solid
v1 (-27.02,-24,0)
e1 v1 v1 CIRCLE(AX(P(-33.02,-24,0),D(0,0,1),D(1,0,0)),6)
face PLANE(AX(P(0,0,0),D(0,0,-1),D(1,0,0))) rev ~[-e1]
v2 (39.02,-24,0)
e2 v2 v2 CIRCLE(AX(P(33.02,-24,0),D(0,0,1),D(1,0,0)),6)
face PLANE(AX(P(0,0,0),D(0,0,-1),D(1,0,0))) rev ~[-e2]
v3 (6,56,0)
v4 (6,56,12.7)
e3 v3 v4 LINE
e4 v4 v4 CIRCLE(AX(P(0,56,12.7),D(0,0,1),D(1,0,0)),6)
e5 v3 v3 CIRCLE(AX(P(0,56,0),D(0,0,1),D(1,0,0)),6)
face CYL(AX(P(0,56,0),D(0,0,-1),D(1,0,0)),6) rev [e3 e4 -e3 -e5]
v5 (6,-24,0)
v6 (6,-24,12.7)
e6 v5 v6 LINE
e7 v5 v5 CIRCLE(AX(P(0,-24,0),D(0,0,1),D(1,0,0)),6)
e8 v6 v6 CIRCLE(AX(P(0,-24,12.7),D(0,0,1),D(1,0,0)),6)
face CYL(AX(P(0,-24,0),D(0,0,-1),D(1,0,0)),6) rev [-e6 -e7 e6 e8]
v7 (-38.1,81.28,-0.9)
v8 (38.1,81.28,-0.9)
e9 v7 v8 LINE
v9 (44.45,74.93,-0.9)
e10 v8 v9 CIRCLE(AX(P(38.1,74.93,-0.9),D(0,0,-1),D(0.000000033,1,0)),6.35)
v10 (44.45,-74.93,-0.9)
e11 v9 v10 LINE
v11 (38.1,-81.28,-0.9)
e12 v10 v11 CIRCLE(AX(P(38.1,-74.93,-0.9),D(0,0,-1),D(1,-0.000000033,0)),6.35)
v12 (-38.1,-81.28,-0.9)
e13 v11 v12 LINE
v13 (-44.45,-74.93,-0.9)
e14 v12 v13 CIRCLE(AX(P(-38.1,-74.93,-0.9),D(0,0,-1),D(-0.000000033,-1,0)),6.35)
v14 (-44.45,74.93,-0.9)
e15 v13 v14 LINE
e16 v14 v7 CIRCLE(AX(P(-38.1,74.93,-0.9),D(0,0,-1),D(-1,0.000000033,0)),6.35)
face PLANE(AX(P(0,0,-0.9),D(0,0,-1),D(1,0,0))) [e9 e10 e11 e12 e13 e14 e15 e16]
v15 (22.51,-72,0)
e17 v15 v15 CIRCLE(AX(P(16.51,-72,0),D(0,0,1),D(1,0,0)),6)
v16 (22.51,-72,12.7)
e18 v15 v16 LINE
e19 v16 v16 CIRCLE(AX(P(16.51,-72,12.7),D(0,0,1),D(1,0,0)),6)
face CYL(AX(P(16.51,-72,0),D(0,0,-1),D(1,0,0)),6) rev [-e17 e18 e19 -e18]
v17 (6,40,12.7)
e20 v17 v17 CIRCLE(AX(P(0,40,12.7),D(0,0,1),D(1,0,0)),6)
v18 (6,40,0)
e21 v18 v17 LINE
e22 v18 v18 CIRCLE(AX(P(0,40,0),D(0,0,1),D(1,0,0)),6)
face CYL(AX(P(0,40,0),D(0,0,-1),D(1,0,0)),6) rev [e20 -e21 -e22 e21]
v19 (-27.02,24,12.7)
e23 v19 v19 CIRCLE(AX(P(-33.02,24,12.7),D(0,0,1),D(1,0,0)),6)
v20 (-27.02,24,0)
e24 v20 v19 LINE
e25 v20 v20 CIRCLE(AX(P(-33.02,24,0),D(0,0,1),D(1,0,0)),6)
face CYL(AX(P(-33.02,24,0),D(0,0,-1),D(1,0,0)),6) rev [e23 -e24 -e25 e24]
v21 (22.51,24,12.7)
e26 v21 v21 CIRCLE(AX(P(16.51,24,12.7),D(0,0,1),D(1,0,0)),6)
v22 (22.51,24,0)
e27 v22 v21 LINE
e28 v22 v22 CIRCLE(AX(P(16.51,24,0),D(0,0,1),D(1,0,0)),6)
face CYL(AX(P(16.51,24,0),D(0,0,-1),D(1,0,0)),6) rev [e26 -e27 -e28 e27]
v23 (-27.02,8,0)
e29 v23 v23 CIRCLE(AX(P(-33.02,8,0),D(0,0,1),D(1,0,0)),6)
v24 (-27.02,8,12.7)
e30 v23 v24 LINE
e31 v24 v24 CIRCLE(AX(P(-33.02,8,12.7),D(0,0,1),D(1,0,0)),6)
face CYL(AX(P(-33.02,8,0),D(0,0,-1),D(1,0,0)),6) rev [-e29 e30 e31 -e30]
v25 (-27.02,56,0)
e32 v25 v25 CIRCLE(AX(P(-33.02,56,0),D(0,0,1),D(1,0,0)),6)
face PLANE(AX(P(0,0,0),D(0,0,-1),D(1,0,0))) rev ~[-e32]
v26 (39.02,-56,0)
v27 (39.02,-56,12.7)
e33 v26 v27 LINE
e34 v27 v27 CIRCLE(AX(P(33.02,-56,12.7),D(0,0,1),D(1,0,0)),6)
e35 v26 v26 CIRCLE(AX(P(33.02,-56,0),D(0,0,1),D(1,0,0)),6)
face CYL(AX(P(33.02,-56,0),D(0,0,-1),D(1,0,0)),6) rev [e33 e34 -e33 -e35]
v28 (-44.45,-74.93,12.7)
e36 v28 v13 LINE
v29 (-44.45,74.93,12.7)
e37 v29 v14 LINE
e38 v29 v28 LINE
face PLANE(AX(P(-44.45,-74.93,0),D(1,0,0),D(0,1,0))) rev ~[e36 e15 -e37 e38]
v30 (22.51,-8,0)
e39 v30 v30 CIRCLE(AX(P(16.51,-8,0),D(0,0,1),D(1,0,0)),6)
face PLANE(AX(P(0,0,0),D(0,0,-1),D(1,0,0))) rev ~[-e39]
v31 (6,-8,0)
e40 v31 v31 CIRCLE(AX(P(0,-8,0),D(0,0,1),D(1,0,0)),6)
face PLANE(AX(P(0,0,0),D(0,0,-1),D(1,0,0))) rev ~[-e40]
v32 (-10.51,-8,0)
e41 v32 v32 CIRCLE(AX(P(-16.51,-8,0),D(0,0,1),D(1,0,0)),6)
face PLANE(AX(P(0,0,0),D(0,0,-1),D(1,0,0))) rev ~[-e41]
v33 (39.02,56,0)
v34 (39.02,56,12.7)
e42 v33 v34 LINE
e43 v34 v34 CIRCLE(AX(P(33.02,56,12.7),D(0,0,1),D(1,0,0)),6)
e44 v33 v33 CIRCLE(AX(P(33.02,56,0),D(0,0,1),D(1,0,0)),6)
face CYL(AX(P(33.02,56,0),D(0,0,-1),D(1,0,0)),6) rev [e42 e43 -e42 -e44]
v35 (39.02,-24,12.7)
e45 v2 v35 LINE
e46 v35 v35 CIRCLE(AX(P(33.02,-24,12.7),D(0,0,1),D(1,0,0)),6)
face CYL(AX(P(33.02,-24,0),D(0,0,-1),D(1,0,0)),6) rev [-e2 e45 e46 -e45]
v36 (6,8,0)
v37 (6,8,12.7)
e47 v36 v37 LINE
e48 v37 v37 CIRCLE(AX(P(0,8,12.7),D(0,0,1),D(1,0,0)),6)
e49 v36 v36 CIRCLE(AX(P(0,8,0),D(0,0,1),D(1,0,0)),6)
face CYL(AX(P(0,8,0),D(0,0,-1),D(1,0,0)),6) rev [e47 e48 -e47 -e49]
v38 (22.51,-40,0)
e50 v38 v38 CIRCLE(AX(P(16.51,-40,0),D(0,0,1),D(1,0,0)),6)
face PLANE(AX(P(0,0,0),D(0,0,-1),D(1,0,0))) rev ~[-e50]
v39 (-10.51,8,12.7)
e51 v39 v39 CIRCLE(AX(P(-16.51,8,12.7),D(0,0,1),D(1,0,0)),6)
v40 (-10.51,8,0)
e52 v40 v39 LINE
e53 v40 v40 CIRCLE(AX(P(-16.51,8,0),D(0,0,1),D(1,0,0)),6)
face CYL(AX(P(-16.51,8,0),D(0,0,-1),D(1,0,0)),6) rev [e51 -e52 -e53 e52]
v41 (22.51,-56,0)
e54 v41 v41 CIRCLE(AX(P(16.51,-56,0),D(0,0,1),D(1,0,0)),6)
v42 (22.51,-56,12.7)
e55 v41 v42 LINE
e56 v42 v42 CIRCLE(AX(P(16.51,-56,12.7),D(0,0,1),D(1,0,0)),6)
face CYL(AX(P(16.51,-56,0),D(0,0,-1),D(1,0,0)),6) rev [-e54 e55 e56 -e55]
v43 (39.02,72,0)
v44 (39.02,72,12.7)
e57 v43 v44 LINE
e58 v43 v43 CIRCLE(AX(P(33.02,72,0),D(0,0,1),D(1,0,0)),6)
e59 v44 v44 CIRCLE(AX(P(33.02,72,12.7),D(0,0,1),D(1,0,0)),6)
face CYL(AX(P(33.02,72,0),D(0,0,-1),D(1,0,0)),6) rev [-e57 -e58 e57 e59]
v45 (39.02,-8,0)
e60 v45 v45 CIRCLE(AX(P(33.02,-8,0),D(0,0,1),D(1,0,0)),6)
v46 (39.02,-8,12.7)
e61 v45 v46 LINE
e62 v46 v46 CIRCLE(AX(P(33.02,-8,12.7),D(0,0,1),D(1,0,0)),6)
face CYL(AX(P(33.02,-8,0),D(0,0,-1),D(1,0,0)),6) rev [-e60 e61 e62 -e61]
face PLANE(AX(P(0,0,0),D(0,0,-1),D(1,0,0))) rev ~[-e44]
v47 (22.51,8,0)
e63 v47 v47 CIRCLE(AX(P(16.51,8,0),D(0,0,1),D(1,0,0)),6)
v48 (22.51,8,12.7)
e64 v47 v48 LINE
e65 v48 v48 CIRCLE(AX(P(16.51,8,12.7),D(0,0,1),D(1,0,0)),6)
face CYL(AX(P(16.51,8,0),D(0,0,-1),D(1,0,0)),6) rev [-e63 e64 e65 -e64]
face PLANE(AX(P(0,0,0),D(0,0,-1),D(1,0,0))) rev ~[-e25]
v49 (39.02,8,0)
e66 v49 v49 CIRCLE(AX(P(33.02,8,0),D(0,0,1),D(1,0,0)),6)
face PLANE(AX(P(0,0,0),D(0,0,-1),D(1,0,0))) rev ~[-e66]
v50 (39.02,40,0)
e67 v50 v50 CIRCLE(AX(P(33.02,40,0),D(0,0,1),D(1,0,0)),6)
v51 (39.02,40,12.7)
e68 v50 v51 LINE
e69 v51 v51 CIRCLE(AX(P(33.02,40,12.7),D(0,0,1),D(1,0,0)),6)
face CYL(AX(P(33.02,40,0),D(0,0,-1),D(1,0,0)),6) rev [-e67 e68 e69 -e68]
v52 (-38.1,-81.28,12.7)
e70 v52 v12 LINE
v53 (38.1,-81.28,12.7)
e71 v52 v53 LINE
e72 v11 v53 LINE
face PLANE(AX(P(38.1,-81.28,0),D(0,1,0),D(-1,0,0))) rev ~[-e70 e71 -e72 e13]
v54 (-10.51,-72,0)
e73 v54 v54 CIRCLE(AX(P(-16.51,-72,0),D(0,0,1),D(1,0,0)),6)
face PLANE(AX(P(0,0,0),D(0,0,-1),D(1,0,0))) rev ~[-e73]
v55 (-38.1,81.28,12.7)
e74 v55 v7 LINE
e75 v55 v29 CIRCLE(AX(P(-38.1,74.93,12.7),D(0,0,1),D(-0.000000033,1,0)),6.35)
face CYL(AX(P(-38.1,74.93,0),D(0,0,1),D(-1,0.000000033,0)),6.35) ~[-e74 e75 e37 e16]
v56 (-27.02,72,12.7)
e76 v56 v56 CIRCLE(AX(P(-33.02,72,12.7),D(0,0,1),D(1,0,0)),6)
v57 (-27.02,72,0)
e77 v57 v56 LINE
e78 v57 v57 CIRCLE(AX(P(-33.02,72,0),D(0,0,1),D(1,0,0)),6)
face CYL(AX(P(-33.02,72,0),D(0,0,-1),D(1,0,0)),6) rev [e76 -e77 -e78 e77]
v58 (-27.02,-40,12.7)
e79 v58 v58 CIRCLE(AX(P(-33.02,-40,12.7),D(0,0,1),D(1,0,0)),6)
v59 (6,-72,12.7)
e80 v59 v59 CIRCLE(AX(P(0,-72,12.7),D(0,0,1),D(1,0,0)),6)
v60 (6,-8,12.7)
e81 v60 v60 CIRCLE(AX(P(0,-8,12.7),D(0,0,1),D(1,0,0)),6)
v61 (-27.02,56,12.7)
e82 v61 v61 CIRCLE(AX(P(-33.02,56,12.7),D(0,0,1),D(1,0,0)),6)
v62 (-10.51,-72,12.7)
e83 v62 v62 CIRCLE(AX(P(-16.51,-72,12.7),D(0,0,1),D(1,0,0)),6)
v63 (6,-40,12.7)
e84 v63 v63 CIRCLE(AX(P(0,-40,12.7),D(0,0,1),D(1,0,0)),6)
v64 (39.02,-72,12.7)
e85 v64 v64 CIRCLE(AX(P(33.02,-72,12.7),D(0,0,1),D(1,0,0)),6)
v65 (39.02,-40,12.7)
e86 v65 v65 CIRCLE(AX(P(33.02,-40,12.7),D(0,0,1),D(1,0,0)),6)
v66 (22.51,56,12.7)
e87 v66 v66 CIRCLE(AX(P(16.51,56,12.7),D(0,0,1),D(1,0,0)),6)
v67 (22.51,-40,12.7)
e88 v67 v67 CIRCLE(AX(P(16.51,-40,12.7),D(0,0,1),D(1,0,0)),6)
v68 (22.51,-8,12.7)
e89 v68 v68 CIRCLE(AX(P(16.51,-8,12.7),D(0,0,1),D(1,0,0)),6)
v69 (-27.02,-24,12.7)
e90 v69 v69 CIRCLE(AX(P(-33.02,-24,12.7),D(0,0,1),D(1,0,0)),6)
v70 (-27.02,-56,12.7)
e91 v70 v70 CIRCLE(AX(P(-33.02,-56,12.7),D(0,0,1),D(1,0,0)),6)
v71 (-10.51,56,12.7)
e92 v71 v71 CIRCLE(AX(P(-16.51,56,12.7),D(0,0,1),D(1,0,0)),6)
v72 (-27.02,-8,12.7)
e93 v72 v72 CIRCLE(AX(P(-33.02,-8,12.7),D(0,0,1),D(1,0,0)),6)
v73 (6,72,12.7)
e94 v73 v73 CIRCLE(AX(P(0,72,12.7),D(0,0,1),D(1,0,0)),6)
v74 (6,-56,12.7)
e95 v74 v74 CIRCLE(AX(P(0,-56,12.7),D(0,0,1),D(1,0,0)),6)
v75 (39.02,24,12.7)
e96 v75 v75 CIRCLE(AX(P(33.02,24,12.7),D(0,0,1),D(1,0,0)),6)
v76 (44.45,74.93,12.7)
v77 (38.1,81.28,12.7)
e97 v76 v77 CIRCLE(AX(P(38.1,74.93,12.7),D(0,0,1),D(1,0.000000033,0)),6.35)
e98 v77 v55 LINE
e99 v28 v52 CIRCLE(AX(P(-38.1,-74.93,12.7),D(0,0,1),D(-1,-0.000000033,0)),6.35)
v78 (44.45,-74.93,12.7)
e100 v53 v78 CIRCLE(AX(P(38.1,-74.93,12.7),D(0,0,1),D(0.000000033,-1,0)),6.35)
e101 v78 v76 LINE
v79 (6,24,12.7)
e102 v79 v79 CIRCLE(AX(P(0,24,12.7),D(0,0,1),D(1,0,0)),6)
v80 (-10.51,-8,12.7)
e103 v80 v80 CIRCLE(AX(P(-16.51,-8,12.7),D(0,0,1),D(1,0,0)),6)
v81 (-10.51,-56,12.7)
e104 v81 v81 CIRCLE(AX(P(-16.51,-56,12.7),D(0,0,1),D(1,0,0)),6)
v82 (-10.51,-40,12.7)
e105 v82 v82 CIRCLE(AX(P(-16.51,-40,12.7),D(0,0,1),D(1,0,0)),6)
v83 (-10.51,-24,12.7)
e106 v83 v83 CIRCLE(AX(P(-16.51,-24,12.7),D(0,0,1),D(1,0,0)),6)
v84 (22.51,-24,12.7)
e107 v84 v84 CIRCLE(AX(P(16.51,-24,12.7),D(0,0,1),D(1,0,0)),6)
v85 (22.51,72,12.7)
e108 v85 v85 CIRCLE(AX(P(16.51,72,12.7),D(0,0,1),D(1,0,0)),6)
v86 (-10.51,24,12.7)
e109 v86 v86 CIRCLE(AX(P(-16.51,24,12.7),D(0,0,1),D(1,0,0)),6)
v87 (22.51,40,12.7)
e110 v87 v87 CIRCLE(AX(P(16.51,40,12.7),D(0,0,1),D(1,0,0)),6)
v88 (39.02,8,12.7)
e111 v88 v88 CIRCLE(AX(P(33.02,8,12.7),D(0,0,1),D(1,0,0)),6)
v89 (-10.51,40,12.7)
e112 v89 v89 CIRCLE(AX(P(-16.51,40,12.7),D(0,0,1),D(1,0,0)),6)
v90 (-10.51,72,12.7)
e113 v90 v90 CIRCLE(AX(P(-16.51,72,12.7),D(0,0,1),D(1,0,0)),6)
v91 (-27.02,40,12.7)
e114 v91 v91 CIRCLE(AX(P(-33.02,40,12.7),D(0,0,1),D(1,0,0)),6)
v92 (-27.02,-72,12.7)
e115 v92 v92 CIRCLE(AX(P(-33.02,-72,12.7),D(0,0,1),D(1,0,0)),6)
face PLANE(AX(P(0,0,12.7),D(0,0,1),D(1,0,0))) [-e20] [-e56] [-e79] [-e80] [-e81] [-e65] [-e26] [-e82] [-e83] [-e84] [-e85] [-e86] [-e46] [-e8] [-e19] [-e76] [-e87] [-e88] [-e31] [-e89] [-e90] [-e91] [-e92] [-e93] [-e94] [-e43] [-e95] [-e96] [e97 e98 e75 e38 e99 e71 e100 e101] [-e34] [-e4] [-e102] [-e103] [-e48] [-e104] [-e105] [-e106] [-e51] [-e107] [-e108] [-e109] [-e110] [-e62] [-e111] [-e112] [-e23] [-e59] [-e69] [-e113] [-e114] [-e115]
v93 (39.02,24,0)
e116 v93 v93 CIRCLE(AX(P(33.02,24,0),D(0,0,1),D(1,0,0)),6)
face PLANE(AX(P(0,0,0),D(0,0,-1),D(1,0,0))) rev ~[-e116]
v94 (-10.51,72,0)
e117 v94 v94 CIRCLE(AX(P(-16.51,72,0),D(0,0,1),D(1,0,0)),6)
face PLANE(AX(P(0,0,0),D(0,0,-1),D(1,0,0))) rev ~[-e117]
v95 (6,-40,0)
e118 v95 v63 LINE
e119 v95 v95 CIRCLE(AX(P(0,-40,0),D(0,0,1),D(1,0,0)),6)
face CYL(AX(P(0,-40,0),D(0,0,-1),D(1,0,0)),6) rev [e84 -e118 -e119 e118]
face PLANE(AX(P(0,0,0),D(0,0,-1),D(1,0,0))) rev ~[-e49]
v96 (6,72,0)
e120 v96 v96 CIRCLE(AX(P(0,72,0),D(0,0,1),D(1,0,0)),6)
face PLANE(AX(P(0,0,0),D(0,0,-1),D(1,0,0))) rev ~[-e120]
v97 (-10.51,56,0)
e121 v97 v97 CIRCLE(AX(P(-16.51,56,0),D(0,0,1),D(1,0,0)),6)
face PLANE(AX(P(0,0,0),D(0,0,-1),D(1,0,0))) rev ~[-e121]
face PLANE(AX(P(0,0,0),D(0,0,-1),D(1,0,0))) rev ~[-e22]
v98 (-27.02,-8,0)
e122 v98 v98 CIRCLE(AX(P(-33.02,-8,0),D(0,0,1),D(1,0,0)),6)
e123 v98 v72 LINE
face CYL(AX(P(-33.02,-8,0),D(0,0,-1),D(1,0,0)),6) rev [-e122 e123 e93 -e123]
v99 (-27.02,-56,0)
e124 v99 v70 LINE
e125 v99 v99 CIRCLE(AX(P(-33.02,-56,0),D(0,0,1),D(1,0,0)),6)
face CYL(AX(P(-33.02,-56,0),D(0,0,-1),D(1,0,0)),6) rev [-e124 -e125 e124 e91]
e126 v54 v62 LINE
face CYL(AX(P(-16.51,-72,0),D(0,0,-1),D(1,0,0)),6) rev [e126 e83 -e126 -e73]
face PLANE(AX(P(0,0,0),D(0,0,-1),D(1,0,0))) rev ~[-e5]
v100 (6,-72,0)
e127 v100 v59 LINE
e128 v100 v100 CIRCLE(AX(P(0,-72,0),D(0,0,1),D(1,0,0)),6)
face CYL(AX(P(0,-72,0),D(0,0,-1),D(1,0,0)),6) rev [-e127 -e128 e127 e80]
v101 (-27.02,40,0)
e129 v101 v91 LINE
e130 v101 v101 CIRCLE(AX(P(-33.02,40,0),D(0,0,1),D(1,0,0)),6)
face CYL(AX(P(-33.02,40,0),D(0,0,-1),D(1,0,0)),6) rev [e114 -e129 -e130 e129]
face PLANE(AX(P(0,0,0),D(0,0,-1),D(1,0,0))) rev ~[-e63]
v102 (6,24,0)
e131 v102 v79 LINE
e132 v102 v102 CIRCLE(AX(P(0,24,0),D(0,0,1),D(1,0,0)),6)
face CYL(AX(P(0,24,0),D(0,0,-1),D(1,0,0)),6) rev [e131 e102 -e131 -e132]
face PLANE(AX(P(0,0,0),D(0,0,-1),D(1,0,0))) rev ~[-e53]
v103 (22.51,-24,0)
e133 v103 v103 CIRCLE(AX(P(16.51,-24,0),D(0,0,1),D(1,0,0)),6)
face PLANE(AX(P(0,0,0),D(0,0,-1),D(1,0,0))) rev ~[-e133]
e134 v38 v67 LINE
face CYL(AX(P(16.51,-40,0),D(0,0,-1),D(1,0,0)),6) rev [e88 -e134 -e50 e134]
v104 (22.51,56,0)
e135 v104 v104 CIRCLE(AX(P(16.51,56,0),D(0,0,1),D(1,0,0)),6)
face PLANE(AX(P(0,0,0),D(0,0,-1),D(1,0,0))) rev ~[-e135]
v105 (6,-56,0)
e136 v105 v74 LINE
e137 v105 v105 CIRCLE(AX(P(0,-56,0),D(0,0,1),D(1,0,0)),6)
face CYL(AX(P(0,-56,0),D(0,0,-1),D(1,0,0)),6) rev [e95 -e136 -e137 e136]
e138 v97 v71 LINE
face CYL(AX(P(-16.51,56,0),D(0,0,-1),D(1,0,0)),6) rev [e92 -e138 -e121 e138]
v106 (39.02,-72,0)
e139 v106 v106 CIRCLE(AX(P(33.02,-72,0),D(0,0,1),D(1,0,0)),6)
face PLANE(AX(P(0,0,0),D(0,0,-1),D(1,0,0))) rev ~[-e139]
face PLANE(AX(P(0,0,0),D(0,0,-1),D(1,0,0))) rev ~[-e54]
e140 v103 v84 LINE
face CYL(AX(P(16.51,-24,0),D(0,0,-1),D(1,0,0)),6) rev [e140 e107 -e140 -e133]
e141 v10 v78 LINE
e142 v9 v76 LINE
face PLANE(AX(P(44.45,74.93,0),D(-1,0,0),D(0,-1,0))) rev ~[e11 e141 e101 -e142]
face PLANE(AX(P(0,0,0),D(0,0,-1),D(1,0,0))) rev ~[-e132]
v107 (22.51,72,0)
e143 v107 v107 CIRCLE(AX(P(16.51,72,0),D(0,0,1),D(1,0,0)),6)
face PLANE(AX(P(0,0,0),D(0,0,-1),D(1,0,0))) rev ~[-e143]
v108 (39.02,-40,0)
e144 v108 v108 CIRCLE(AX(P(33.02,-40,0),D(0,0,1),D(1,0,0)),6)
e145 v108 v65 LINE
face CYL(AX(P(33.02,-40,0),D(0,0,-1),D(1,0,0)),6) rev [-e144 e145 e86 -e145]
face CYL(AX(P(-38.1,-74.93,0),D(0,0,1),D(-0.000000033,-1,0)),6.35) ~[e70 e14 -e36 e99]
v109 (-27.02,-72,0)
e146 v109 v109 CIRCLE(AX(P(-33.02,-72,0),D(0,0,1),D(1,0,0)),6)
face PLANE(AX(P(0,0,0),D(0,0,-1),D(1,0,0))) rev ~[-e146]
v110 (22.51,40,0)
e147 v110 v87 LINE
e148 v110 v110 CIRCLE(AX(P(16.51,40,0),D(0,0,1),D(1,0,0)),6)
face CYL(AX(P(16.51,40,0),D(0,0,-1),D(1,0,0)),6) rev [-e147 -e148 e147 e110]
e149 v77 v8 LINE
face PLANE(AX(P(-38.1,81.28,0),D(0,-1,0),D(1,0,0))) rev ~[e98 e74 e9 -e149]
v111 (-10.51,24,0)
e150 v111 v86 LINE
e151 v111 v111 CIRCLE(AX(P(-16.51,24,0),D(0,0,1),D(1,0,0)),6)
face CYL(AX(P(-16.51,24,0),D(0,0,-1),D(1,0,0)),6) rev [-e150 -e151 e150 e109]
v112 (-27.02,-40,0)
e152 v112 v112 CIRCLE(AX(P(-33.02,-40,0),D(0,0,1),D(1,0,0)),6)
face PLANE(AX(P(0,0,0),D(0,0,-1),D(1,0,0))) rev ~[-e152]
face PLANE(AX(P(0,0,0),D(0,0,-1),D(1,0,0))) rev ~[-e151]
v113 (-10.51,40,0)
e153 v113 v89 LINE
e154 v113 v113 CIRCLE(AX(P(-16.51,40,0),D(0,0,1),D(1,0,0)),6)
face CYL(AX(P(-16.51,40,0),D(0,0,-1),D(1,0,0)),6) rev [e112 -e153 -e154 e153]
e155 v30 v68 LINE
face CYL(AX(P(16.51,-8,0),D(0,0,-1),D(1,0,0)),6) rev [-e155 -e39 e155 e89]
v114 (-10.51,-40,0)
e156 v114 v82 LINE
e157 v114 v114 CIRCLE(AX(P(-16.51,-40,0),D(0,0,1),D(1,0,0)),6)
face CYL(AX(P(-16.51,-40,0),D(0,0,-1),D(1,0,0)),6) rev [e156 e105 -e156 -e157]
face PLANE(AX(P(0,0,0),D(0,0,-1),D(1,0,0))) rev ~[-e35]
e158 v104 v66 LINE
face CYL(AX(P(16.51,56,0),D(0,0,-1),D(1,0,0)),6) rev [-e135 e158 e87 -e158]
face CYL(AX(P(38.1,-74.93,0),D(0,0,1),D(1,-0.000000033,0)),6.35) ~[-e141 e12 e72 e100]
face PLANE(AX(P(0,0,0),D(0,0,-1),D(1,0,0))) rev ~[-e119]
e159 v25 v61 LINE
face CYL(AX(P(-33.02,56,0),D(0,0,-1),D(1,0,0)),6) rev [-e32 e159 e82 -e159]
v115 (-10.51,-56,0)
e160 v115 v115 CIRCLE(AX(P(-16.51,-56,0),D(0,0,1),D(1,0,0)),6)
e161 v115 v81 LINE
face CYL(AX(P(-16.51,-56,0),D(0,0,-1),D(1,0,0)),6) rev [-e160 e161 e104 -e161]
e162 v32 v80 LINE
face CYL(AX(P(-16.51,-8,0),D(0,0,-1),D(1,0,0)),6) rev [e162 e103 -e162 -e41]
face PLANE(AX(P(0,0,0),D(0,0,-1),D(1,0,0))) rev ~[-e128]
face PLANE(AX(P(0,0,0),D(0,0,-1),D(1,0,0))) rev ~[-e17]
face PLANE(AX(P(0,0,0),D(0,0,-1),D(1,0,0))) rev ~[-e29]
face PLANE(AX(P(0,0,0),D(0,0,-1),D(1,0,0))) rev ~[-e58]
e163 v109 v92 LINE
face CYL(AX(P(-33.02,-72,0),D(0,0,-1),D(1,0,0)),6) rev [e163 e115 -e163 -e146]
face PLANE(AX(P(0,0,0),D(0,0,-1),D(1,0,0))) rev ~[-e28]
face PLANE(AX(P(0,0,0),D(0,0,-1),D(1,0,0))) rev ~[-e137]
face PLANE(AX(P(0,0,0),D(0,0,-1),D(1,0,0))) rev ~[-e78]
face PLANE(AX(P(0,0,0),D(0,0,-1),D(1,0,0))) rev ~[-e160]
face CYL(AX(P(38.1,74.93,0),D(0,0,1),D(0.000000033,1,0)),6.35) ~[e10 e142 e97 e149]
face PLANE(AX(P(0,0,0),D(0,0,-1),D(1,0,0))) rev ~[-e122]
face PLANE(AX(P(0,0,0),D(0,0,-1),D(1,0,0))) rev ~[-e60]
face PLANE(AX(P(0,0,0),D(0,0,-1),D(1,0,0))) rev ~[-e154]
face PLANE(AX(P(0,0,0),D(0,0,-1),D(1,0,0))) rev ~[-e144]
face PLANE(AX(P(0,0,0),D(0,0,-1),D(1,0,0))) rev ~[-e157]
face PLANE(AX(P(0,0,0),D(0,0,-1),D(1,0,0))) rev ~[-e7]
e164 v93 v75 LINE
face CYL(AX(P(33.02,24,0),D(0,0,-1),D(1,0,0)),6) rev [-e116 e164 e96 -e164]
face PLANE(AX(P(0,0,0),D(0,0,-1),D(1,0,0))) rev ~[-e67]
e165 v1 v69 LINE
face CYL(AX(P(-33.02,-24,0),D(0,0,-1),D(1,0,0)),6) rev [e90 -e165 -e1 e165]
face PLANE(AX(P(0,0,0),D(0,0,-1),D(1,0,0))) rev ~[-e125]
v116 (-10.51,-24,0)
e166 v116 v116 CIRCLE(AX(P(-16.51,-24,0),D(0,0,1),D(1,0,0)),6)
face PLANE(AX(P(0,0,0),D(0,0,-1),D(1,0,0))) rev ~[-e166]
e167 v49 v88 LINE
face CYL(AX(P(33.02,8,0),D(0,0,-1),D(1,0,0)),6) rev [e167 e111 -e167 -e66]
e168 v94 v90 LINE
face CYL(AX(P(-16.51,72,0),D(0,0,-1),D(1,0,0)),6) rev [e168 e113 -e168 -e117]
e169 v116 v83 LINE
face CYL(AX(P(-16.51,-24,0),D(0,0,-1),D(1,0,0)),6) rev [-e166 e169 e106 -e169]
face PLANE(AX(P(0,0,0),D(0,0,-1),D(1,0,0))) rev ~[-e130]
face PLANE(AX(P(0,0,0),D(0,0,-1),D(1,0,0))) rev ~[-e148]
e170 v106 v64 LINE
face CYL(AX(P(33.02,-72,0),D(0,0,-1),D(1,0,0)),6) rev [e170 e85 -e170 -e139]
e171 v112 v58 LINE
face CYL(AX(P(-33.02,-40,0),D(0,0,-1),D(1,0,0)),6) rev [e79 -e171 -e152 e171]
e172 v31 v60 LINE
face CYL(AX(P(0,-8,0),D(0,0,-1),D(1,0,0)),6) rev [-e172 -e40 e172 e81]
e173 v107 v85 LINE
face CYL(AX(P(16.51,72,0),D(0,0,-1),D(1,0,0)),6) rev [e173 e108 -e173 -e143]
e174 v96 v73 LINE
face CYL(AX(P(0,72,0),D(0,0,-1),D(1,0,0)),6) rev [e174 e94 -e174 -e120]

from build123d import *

# Parameters (mm, degrees)
F0_R     = 6
F1_DEPTH = 12.7
F3_DEPTH = 0.9


with BuildPart() as f1:
    # F0 (on Top) → F1 (new body)
    with BuildSketch(Plane.XY):
        with BuildLine():
            Line((38.1, 81.28), (-38.1, 81.28))
            ThreePointArc((-38.1, 81.28), (-42.590128, 79.420128), (-44.45, 74.93))
            Line((-44.45, 74.93), (-44.45, -74.93))
            ThreePointArc((-44.45, -74.93), (-42.590128, -79.420128), (-38.1, -81.28))
            Line((-38.1, -81.28), (38.1, -81.28))
            ThreePointArc((38.1, -81.28), (42.590128, -79.420128), (44.45, -74.93))
            Line((44.45, -74.93), (44.45, 74.93))
            ThreePointArc((44.45, 74.93), (42.590128, 79.420128), (38.1, 81.28))
        make_face()
        with Locations((-33.02, -72)):
            Circle(F0_R, mode=Mode.SUBTRACT)
        with Locations((-33.02, -56)):
            Circle(F0_R, mode=Mode.SUBTRACT)
        with Locations((-16.51, -72)):
            Circle(F0_R, mode=Mode.SUBTRACT)
        with Locations((-16.51, -56)):
            Circle(F0_R, mode=Mode.SUBTRACT)
        with Locations((-33.02, -40)):
            Circle(F0_R, mode=Mode.SUBTRACT)
        with Locations((-33.02, -24)):
            Circle(F0_R, mode=Mode.SUBTRACT)
        with Locations((-33.02, -8)):
            Circle(F0_R, mode=Mode.SUBTRACT)
        with Locations((-16.51, -40)):
            Circle(F0_R, mode=Mode.SUBTRACT)
        with Locations((-16.51, -24)):
            Circle(F0_R, mode=Mode.SUBTRACT)
        with Locations((-16.51, -8)):
            Circle(F0_R, mode=Mode.SUBTRACT)
        with Locations((0, -72)):
            Circle(F0_R, mode=Mode.SUBTRACT)
        with Locations((16.51, -72)):
            Circle(F0_R, mode=Mode.SUBTRACT)
        with Locations((0, -56)):
            Circle(F0_R, mode=Mode.SUBTRACT)
        with Locations((16.51, -56)):
            Circle(F0_R, mode=Mode.SUBTRACT)
        with Locations((33.02, -72)):
            Circle(F0_R, mode=Mode.SUBTRACT)
        with Locations((33.02, -56)):
            Circle(F0_R, mode=Mode.SUBTRACT)
        with Locations((0, -40)):
            Circle(F0_R, mode=Mode.SUBTRACT)
        with Locations((0, -24)):
            Circle(F0_R, mode=Mode.SUBTRACT)
        with Locations((16.51, -40)):
            Circle(F0_R, mode=Mode.SUBTRACT)
        with Locations((16.51, -24)):
            Circle(F0_R, mode=Mode.SUBTRACT)
        with Locations((0, -8)):
            Circle(F0_R, mode=Mode.SUBTRACT)
        with Locations((16.51, -8)):
            Circle(F0_R, mode=Mode.SUBTRACT)
        with Locations((33.02, -40)):
            Circle(F0_R, mode=Mode.SUBTRACT)
        with Locations((33.02, -24)):
            Circle(F0_R, mode=Mode.SUBTRACT)
        with Locations((33.02, -8)):
            Circle(F0_R, mode=Mode.SUBTRACT)
        with Locations((-33.02, 8)):
            Circle(F0_R, mode=Mode.SUBTRACT)
        with Locations((-33.02, 24)):
            Circle(F0_R, mode=Mode.SUBTRACT)
        with Locations((-33.02, 40)):
            Circle(F0_R, mode=Mode.SUBTRACT)
        with Locations((-16.51, 8)):
            Circle(F0_R, mode=Mode.SUBTRACT)
        with Locations((-16.51, 24)):
            Circle(F0_R, mode=Mode.SUBTRACT)
        with Locations((-16.51, 40)):
            Circle(F0_R, mode=Mode.SUBTRACT)
        with Locations((-33.02, 56)):
            Circle(F0_R, mode=Mode.SUBTRACT)
        with Locations((-33.02, 72)):
            Circle(F0_R, mode=Mode.SUBTRACT)
        with Locations((-16.51, 56)):
            Circle(F0_R, mode=Mode.SUBTRACT)
        with Locations((-16.51, 72)):
            Circle(F0_R, mode=Mode.SUBTRACT)
        with Locations((0, 8)):
            Circle(F0_R, mode=Mode.SUBTRACT)
        with Locations((16.51, 8)):
            Circle(F0_R, mode=Mode.SUBTRACT)
        with Locations((0, 24)):
            Circle(F0_R, mode=Mode.SUBTRACT)
        with Locations((0, 40)):
            Circle(F0_R, mode=Mode.SUBTRACT)
        with Locations((16.51, 24)):
            Circle(F0_R, mode=Mode.SUBTRACT)
        with Locations((16.51, 40)):
            Circle(F0_R, mode=Mode.SUBTRACT)
        with Locations((33.02, 8)):
            Circle(F0_R, mode=Mode.SUBTRACT)
        with Locations((33.02, 24)):
            Circle(F0_R, mode=Mode.SUBTRACT)
        with Locations((33.02, 40)):
            Circle(F0_R, mode=Mode.SUBTRACT)
        with Locations((0, 56)):
            Circle(F0_R, mode=Mode.SUBTRACT)
        with Locations((16.51, 56)):
            Circle(F0_R, mode=Mode.SUBTRACT)
        with Locations((0, 72)):
            Circle(F0_R, mode=Mode.SUBTRACT)
        with Locations((16.51, 72)):
            Circle(F0_R, mode=Mode.SUBTRACT)
        with Locations((33.02, 56)):
            Circle(F0_R, mode=Mode.SUBTRACT)
        with Locations((33.02, 72)):
            Circle(F0_R, mode=Mode.SUBTRACT)
    extrude(amount=F1_DEPTH)

    # F2 (on face) → F3 (join)
    with BuildSketch(Plane(origin=(0, 0, 0), x_dir=(1, 0, 0), z_dir=(0, 0, -1))):
        with BuildLine():
            Line((38.1, 81.28), (-38.1, 81.28))
            ThreePointArc((-38.1, 81.28), (-42.590128, 79.420128), (-44.45, 74.93))
            Line((-44.45, 74.93), (-44.45, -74.93))
            ThreePointArc((-44.45, -74.93), (-42.590128, -79.420128), (-38.1, -81.28))
            Line((-38.1, -81.28), (38.1, -81.28))
            ThreePointArc((38.1, -81.28), (42.590128, -79.420128), (44.45, -74.93))
            Line((44.45, -74.93), (44.45, 74.93))
            ThreePointArc((44.45, 74.93), (42.590128, 79.420128), (38.1, 81.28))
        make_face()
    extrude(amount=F3_DEPTH)


solid = f1.part
